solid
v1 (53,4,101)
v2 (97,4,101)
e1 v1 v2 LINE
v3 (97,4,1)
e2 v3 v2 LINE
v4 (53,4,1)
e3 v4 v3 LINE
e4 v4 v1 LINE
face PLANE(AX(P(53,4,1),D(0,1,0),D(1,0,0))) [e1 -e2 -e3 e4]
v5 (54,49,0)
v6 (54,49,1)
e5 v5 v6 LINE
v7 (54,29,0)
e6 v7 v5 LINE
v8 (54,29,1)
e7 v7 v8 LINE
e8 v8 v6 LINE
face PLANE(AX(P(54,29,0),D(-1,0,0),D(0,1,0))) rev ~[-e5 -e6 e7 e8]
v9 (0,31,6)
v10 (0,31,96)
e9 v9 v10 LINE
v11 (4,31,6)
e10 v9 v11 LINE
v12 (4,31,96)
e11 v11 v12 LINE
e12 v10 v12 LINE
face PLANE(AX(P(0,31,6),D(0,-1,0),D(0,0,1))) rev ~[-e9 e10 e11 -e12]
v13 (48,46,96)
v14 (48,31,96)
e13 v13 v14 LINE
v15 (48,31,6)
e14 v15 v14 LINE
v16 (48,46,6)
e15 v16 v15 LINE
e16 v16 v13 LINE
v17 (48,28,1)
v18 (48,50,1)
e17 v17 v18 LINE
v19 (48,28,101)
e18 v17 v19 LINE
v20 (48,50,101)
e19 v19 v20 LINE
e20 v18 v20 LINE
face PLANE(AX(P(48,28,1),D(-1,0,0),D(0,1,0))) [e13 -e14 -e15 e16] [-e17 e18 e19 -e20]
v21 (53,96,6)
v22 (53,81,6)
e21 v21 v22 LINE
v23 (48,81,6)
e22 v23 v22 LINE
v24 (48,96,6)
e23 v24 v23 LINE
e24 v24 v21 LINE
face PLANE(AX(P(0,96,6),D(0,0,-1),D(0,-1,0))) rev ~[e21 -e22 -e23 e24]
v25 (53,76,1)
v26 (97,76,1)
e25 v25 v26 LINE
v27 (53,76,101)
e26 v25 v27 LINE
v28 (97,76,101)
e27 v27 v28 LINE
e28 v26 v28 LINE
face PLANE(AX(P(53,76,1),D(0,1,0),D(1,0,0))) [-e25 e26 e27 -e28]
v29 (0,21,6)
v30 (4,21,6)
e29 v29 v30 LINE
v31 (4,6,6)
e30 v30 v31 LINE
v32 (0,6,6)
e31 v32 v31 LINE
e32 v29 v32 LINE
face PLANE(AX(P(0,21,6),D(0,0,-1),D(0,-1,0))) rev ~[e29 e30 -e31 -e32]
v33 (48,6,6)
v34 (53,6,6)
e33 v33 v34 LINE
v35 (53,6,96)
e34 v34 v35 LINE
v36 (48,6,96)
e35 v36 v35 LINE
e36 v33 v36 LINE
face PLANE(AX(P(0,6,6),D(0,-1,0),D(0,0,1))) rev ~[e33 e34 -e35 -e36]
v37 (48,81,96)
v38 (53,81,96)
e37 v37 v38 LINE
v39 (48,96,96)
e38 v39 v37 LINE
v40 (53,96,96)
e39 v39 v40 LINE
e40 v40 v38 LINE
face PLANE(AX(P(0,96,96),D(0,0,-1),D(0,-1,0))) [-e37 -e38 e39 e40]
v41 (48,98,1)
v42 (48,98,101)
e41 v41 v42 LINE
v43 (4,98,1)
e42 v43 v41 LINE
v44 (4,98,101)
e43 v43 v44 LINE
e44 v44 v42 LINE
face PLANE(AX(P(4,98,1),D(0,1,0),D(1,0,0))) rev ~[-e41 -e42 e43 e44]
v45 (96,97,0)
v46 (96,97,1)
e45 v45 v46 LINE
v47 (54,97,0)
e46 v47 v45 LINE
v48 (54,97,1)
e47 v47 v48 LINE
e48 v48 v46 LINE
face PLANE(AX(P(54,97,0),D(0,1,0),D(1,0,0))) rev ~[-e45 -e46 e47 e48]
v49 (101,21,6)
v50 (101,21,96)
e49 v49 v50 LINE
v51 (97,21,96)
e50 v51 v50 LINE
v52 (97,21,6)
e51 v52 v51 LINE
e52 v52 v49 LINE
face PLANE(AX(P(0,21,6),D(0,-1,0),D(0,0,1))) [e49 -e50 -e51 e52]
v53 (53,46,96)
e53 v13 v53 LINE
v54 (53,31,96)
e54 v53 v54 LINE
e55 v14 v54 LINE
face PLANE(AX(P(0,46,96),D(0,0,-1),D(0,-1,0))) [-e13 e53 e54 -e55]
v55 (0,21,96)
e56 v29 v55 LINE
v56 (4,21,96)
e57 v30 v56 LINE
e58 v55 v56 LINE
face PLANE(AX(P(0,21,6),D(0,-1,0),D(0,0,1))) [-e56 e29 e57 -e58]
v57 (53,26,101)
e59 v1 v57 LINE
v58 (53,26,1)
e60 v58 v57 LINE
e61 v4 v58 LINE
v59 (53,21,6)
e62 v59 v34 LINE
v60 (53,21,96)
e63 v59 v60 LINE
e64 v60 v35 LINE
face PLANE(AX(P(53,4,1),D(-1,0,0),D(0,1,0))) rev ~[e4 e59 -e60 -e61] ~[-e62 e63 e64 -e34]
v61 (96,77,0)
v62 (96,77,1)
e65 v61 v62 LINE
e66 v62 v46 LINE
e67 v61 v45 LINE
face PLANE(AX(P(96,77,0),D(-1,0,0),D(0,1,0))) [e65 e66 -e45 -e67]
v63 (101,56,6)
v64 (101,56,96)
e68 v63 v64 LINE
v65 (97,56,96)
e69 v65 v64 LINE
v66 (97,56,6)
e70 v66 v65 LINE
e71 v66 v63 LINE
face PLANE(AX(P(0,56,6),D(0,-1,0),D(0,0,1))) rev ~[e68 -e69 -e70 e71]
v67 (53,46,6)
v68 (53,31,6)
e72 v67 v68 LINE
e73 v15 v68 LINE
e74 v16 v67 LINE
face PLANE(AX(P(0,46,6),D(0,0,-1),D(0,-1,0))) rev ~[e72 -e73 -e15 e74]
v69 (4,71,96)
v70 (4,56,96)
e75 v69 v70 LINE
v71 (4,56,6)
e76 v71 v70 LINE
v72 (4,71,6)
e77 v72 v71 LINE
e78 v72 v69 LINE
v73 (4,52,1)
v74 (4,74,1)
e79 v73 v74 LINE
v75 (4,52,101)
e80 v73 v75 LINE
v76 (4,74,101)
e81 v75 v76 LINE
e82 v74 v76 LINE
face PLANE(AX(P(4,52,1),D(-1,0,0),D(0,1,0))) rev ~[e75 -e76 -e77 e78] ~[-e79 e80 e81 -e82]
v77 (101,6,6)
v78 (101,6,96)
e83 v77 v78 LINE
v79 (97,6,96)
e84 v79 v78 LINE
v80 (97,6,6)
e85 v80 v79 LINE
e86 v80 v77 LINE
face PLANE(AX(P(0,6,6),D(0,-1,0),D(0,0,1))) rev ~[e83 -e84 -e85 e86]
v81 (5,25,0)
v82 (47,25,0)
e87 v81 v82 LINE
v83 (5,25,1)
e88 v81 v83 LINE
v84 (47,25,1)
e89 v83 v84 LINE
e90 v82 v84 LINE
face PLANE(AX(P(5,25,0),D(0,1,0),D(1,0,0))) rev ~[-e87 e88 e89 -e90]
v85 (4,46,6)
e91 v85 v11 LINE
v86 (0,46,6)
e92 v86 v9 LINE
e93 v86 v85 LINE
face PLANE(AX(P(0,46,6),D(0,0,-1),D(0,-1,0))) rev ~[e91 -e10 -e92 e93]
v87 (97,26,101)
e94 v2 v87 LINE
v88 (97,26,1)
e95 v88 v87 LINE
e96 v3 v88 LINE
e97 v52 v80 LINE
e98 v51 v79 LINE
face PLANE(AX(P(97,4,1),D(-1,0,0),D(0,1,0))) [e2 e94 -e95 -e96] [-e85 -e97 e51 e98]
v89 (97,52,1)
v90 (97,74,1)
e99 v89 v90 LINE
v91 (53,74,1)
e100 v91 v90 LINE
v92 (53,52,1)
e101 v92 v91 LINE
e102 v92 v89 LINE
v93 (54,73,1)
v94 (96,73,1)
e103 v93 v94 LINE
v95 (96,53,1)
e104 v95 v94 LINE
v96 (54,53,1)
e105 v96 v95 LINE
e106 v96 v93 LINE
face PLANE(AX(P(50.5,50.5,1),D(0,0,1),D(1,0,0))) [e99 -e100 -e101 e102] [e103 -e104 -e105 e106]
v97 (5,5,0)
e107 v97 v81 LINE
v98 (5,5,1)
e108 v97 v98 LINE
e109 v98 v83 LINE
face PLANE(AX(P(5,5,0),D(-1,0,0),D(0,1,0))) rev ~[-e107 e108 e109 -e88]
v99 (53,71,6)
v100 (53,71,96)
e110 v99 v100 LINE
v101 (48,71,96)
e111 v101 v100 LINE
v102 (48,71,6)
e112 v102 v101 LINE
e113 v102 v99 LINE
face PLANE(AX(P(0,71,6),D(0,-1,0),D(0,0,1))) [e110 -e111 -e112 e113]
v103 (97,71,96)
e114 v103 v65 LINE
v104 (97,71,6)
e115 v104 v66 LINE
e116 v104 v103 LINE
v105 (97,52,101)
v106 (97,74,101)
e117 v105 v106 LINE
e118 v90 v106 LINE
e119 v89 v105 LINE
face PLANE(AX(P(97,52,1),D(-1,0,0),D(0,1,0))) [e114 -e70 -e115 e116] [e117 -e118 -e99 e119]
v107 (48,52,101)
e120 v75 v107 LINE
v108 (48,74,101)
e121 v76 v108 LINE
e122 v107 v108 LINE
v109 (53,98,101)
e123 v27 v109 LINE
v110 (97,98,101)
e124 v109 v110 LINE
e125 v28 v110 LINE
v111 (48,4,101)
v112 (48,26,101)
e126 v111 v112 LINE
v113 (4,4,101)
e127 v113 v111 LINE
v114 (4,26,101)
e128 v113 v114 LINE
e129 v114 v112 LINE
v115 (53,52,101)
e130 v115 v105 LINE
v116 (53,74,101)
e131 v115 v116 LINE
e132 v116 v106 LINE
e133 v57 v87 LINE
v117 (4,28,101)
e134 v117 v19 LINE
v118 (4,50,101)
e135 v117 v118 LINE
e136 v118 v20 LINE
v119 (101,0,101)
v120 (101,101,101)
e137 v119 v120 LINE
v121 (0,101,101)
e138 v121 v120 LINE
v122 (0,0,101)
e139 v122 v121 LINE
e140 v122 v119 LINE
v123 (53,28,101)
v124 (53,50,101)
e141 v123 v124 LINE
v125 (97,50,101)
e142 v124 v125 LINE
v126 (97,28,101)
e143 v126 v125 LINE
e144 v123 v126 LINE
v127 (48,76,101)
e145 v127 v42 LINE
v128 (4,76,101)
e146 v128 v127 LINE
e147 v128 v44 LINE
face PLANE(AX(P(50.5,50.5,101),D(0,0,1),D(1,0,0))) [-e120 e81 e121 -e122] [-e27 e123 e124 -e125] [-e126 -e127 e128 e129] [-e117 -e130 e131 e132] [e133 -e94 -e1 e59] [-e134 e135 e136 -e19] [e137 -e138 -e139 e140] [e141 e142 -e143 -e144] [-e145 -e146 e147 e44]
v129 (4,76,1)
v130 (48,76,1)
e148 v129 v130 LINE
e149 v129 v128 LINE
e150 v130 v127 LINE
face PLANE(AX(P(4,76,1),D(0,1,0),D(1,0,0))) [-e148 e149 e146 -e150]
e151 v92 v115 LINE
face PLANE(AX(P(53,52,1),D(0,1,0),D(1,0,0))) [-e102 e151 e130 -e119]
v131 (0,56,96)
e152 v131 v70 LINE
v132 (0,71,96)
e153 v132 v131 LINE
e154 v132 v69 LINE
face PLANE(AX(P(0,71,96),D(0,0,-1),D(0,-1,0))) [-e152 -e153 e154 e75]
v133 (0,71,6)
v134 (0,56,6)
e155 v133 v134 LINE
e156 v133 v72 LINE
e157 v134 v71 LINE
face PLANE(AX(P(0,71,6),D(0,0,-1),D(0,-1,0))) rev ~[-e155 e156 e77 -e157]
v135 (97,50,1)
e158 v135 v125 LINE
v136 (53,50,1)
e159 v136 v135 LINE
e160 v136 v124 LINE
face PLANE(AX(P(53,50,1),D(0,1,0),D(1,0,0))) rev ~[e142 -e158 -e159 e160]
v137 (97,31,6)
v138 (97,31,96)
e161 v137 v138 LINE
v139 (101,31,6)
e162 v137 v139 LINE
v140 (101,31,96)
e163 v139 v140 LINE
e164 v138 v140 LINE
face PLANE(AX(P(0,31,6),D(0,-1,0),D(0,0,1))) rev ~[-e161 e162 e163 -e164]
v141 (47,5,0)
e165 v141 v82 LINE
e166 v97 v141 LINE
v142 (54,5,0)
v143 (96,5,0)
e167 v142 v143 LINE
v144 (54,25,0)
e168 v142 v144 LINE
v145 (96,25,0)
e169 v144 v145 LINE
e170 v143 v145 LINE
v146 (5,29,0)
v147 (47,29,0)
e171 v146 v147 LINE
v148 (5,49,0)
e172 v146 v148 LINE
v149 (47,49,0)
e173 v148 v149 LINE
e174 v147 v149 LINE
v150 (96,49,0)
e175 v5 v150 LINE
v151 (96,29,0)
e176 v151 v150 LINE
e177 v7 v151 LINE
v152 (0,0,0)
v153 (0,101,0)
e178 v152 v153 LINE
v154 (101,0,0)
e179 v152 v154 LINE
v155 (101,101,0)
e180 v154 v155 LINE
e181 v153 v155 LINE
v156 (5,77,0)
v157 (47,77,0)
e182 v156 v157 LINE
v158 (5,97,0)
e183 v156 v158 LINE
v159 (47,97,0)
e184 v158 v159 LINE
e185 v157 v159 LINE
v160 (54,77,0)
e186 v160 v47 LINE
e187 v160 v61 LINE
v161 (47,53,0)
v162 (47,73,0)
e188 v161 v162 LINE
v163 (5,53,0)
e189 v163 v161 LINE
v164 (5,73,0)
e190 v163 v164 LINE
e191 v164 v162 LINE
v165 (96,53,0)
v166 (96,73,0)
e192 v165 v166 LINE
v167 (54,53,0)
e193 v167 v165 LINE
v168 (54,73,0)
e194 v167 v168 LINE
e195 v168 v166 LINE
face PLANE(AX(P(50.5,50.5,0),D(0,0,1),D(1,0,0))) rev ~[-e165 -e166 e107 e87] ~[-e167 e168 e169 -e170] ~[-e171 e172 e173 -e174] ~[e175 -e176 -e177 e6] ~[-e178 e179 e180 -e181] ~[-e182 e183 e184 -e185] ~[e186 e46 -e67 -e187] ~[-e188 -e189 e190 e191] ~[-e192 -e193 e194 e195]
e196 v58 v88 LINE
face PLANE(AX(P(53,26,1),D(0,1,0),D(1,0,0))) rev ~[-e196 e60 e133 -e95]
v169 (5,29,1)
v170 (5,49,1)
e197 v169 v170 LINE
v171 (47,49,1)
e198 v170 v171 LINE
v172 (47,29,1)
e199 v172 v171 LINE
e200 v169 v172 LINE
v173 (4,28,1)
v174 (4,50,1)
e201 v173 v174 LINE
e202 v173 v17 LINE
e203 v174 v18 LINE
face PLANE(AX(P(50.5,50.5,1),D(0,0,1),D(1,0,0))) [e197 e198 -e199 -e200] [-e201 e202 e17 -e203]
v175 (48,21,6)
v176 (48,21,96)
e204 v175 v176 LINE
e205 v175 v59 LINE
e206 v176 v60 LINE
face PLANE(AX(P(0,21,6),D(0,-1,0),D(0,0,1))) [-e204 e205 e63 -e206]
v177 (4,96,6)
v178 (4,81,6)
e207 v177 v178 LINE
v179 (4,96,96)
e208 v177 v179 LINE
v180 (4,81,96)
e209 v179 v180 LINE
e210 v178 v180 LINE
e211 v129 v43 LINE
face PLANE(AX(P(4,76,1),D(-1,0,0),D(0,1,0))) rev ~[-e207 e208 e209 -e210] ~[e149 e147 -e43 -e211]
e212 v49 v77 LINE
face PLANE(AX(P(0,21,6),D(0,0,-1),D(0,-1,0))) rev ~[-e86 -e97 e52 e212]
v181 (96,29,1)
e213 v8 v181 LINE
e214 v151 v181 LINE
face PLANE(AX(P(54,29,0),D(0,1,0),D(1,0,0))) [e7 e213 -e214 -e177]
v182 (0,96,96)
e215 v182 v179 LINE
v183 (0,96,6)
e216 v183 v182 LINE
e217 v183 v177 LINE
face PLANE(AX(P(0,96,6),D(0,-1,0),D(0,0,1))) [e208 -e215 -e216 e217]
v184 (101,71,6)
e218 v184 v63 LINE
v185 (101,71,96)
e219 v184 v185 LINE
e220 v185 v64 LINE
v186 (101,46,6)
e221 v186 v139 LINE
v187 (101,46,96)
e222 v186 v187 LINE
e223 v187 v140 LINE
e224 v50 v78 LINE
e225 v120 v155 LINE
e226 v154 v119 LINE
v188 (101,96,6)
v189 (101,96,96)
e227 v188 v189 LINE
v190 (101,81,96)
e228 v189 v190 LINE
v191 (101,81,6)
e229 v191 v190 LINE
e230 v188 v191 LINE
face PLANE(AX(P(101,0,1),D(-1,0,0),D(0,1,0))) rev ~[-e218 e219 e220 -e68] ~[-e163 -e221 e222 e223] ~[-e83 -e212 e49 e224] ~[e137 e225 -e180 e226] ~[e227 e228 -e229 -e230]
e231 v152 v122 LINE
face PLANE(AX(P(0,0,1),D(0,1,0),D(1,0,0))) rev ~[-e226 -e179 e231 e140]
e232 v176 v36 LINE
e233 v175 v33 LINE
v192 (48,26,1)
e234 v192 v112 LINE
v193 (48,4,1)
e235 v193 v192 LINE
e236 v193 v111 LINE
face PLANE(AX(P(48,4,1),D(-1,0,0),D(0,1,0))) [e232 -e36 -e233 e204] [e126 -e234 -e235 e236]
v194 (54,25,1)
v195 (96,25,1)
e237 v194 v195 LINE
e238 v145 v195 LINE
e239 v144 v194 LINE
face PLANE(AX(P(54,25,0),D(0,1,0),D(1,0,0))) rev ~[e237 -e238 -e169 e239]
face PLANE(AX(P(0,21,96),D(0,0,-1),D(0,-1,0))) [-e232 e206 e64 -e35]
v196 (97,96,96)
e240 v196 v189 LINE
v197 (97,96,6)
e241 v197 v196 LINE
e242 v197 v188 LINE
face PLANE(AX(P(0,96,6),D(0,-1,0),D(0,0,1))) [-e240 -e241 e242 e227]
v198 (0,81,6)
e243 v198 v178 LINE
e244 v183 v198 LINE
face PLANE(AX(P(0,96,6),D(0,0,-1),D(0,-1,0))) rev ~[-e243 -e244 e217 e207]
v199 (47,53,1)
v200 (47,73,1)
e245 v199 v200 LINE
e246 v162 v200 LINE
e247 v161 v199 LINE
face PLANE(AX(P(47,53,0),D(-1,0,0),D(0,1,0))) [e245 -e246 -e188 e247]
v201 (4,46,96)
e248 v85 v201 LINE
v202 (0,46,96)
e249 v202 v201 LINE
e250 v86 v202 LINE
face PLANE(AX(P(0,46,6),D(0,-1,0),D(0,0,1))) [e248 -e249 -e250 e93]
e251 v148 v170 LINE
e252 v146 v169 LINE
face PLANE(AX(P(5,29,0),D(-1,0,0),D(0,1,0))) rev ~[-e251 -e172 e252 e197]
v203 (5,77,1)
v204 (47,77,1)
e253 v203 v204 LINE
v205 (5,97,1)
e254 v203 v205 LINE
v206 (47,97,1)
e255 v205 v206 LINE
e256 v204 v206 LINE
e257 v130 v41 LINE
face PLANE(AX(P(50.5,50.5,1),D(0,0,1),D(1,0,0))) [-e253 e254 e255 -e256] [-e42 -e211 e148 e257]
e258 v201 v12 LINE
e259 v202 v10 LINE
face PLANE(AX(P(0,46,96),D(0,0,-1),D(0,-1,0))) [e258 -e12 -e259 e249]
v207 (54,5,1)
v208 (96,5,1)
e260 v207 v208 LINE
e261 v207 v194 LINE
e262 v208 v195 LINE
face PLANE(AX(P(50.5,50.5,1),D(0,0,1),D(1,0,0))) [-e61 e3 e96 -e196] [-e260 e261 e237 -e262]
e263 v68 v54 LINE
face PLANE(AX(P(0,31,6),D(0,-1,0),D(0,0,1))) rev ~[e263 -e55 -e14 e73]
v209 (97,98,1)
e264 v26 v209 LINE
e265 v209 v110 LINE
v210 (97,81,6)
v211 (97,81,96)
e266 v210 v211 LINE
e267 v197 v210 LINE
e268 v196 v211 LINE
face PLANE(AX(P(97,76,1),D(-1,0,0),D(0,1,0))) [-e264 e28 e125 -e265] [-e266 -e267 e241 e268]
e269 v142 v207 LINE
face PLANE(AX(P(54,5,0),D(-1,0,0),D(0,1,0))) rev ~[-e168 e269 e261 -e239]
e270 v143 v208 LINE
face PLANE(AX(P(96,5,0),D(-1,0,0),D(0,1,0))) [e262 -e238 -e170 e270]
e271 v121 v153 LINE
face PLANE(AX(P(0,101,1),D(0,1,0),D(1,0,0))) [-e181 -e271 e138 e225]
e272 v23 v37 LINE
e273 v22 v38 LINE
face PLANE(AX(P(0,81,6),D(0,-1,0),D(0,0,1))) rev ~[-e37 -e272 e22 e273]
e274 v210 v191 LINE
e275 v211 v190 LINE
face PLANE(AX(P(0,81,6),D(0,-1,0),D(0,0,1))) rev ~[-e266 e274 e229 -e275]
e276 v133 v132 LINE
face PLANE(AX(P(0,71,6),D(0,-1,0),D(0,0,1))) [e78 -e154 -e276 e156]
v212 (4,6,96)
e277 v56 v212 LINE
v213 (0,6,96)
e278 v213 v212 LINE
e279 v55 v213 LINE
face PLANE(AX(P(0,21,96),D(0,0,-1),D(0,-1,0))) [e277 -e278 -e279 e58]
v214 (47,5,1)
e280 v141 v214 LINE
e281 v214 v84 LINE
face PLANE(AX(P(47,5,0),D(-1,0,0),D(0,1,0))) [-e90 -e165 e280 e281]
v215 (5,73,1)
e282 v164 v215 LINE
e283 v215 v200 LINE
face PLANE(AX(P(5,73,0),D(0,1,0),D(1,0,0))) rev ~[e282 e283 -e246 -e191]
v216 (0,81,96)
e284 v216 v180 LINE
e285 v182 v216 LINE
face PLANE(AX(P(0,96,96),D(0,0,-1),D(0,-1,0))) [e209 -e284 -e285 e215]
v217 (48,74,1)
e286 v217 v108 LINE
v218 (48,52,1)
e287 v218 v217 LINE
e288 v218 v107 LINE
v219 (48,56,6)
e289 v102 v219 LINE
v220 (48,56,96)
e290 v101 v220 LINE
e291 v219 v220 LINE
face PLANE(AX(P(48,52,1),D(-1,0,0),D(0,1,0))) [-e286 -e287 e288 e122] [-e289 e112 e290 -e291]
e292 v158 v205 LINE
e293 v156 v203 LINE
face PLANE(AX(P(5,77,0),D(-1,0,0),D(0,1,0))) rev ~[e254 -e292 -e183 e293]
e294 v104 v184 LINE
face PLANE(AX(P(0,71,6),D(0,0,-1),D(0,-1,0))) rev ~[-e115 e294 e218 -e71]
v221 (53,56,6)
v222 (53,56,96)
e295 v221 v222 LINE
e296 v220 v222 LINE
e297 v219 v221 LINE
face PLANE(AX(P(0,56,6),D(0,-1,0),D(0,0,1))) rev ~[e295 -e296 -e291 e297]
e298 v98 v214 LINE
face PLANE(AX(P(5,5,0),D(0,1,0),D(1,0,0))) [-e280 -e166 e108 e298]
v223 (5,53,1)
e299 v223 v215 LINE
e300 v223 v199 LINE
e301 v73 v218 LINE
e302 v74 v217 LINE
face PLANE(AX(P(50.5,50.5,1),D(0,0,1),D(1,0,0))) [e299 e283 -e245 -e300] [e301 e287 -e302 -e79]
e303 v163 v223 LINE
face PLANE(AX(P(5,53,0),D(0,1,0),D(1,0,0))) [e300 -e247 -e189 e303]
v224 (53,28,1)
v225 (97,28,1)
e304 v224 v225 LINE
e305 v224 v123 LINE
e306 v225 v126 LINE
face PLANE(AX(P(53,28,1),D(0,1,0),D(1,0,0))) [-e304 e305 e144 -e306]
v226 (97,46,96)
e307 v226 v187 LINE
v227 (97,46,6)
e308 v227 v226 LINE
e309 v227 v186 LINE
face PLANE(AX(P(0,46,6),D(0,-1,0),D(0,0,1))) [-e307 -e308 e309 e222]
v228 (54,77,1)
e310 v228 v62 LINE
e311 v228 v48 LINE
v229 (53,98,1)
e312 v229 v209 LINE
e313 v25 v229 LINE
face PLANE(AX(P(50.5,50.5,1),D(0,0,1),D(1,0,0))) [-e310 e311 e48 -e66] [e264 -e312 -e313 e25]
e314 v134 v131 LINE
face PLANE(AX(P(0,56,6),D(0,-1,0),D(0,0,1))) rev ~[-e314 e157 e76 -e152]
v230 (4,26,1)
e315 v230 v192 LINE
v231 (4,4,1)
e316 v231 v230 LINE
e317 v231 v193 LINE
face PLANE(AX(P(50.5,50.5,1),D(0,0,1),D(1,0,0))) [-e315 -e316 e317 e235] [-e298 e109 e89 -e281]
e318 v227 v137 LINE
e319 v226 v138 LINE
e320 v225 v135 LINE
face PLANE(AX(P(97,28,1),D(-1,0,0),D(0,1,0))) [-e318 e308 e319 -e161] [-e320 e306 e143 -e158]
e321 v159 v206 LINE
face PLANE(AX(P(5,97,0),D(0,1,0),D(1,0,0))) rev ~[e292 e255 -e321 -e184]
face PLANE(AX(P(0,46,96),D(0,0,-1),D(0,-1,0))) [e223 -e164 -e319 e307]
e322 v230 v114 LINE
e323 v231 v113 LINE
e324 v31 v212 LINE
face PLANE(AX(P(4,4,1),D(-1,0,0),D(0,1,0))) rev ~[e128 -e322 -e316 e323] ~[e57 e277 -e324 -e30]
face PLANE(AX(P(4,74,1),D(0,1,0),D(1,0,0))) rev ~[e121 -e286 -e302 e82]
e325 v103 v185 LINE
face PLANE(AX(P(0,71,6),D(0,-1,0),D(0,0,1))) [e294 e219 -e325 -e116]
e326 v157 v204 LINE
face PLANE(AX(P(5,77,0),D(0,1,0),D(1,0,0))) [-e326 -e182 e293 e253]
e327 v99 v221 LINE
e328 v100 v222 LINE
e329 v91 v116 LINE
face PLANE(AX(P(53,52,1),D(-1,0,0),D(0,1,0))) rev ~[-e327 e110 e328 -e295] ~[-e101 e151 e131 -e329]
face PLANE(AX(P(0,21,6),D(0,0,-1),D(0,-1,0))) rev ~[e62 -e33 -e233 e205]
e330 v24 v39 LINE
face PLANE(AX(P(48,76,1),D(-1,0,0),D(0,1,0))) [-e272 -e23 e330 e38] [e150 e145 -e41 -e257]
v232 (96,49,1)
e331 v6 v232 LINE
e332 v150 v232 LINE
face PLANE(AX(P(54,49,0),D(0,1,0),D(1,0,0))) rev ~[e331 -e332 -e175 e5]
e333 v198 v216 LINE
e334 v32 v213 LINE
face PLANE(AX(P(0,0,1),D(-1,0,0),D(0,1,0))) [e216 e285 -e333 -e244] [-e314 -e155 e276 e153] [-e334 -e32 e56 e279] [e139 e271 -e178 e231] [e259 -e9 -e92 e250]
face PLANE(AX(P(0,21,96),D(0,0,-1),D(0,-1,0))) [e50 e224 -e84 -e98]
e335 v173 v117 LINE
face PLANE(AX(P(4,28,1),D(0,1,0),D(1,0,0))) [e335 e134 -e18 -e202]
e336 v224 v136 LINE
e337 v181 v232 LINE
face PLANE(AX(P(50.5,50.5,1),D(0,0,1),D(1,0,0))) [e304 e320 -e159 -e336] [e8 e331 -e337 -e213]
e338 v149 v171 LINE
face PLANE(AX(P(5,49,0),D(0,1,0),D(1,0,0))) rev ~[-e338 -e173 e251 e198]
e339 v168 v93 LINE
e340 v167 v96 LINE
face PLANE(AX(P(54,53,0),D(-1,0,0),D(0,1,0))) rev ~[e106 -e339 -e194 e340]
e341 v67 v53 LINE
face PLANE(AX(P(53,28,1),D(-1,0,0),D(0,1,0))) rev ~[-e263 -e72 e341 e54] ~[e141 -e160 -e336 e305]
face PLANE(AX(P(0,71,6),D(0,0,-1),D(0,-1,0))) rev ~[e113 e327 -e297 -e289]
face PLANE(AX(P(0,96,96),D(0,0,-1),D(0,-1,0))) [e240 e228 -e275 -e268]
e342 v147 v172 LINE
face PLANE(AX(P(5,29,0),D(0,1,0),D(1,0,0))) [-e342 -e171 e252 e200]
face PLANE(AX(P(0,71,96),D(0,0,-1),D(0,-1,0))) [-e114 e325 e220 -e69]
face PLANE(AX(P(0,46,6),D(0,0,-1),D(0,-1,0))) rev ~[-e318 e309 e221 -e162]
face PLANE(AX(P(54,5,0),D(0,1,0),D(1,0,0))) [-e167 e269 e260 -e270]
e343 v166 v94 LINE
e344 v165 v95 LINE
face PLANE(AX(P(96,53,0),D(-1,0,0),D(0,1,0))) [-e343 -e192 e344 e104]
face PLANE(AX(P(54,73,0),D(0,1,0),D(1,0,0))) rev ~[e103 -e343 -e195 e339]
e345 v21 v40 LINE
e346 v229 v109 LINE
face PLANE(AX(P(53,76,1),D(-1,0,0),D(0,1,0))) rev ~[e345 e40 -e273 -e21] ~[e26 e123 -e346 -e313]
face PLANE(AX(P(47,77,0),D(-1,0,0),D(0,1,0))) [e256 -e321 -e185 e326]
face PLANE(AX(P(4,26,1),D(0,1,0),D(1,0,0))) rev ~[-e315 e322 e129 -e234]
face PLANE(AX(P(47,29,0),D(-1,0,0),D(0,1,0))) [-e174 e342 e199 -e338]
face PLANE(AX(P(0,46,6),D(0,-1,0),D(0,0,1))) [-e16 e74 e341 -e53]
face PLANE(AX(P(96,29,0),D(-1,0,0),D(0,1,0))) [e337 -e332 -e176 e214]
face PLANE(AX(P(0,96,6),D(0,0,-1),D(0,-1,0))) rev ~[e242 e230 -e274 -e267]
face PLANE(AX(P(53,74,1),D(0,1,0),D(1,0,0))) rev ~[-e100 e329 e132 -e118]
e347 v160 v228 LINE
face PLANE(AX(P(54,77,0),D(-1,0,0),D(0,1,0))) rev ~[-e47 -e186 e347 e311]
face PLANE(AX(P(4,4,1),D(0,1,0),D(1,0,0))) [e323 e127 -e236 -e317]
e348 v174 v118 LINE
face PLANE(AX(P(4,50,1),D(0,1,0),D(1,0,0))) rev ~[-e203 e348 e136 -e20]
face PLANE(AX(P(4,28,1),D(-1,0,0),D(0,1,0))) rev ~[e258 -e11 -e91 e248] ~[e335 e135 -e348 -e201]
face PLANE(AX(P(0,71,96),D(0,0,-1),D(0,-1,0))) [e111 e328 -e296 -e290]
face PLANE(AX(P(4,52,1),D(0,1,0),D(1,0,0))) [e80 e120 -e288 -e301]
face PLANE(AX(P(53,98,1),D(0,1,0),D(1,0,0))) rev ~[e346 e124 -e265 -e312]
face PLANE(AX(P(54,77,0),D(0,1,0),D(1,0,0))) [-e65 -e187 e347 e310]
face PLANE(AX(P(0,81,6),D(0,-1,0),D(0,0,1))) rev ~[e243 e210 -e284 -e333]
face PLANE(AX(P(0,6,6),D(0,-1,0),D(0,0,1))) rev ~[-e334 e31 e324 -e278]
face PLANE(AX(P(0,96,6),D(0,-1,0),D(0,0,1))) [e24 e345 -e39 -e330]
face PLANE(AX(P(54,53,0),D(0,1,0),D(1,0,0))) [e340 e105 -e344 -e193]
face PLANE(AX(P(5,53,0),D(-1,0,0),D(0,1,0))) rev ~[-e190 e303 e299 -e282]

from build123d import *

# Parameters (mm, degrees)
F0_W     = 101
F0_H     = 101
F0_W_2   = 42
F0_H_2   = 20
F1_DEPTH = 1
F2_W     = 101
F2_H     = 101
F2_W_2   = 44
F2_H_2   = 22
F3_DEPTH = 100
F4_W     = 15
F4_H     = 90
F5_DEPTH = 101.001


with BuildPart() as f1:
    # F0 (on Top) → F1 (new body)
    with BuildSketch(Plane.XY):
        with Locations((50.5, 50.5)):
            Rectangle(F0_W, F0_H)
        with Locations((26, 15)):
            Rectangle(F0_W_2, F0_H_2, mode=Mode.SUBTRACT)
        with Locations((26, 39)):
            Rectangle(F0_W_2, F0_H_2, mode=Mode.SUBTRACT)
        with Locations((75, 15)):
            Rectangle(F0_W_2, F0_H_2, mode=Mode.SUBTRACT)
        with Locations((75, 39)):
            Rectangle(F0_W_2, F0_H_2, mode=Mode.SUBTRACT)
        with Locations((26, 63)):
            Rectangle(F0_W_2, F0_H_2, mode=Mode.SUBTRACT)
        with Locations((26, 87)):
            Rectangle(F0_W_2, F0_H_2, mode=Mode.SUBTRACT)
        with Locations((75, 63)):
            Rectangle(F0_W_2, F0_H_2, mode=Mode.SUBTRACT)
        with Locations((75, 87)):
            Rectangle(F0_W_2, F0_H_2, mode=Mode.SUBTRACT)
    extrude(amount=F1_DEPTH)

    # F2 (on face) → F3 (join)
    with BuildSketch(Plane.XY.offset(1)):
        with Locations((50.5, 50.5)):
            Rectangle(F2_W, F2_H)
        with Locations((26, 15)):
            Rectangle(F2_W_2, F2_H_2, mode=Mode.SUBTRACT)
        with Locations((26, 39)):
            Rectangle(F2_W_2, F2_H_2, mode=Mode.SUBTRACT)
        with Locations((75, 15)):
            Rectangle(F2_W_2, F2_H_2, mode=Mode.SUBTRACT)
        with Locations((75, 39)):
            Rectangle(F2_W_2, F2_H_2, mode=Mode.SUBTRACT)
        with Locations((26, 63)):
            Rectangle(F2_W_2, F2_H_2, mode=Mode.SUBTRACT)
        with Locations((26, 87)):
            Rectangle(F2_W_2, F2_H_2, mode=Mode.SUBTRACT)
        with Locations((75, 63)):
            Rectangle(F2_W_2, F2_H_2, mode=Mode.SUBTRACT)
        with Locations((75, 87)):
            Rectangle(F2_W_2, F2_H_2, mode=Mode.SUBTRACT)
    extrude(amount=F3_DEPTH)

    # F4 (on face) → F5 (cut, through all)
    with BuildSketch(Plane(origin=(0, 0, 0), x_dir=(0, -1, 0), z_dir=(-1, 0, 0))):
        with Locations((-88.5, 51)):
            Rectangle(F4_W, F4_H)
        with Locations((-63.5, 51)):
            Rectangle(F4_W, F4_H)
        with Locations((-38.5, 51)):
            Rectangle(F4_W, F4_H)
        with Locations((-13.5, 51)):
            Rectangle(F4_W, F4_H)
    extrude(amount=-F5_DEPTH, mode=Mode.SUBTRACT)


solid = f1.part
